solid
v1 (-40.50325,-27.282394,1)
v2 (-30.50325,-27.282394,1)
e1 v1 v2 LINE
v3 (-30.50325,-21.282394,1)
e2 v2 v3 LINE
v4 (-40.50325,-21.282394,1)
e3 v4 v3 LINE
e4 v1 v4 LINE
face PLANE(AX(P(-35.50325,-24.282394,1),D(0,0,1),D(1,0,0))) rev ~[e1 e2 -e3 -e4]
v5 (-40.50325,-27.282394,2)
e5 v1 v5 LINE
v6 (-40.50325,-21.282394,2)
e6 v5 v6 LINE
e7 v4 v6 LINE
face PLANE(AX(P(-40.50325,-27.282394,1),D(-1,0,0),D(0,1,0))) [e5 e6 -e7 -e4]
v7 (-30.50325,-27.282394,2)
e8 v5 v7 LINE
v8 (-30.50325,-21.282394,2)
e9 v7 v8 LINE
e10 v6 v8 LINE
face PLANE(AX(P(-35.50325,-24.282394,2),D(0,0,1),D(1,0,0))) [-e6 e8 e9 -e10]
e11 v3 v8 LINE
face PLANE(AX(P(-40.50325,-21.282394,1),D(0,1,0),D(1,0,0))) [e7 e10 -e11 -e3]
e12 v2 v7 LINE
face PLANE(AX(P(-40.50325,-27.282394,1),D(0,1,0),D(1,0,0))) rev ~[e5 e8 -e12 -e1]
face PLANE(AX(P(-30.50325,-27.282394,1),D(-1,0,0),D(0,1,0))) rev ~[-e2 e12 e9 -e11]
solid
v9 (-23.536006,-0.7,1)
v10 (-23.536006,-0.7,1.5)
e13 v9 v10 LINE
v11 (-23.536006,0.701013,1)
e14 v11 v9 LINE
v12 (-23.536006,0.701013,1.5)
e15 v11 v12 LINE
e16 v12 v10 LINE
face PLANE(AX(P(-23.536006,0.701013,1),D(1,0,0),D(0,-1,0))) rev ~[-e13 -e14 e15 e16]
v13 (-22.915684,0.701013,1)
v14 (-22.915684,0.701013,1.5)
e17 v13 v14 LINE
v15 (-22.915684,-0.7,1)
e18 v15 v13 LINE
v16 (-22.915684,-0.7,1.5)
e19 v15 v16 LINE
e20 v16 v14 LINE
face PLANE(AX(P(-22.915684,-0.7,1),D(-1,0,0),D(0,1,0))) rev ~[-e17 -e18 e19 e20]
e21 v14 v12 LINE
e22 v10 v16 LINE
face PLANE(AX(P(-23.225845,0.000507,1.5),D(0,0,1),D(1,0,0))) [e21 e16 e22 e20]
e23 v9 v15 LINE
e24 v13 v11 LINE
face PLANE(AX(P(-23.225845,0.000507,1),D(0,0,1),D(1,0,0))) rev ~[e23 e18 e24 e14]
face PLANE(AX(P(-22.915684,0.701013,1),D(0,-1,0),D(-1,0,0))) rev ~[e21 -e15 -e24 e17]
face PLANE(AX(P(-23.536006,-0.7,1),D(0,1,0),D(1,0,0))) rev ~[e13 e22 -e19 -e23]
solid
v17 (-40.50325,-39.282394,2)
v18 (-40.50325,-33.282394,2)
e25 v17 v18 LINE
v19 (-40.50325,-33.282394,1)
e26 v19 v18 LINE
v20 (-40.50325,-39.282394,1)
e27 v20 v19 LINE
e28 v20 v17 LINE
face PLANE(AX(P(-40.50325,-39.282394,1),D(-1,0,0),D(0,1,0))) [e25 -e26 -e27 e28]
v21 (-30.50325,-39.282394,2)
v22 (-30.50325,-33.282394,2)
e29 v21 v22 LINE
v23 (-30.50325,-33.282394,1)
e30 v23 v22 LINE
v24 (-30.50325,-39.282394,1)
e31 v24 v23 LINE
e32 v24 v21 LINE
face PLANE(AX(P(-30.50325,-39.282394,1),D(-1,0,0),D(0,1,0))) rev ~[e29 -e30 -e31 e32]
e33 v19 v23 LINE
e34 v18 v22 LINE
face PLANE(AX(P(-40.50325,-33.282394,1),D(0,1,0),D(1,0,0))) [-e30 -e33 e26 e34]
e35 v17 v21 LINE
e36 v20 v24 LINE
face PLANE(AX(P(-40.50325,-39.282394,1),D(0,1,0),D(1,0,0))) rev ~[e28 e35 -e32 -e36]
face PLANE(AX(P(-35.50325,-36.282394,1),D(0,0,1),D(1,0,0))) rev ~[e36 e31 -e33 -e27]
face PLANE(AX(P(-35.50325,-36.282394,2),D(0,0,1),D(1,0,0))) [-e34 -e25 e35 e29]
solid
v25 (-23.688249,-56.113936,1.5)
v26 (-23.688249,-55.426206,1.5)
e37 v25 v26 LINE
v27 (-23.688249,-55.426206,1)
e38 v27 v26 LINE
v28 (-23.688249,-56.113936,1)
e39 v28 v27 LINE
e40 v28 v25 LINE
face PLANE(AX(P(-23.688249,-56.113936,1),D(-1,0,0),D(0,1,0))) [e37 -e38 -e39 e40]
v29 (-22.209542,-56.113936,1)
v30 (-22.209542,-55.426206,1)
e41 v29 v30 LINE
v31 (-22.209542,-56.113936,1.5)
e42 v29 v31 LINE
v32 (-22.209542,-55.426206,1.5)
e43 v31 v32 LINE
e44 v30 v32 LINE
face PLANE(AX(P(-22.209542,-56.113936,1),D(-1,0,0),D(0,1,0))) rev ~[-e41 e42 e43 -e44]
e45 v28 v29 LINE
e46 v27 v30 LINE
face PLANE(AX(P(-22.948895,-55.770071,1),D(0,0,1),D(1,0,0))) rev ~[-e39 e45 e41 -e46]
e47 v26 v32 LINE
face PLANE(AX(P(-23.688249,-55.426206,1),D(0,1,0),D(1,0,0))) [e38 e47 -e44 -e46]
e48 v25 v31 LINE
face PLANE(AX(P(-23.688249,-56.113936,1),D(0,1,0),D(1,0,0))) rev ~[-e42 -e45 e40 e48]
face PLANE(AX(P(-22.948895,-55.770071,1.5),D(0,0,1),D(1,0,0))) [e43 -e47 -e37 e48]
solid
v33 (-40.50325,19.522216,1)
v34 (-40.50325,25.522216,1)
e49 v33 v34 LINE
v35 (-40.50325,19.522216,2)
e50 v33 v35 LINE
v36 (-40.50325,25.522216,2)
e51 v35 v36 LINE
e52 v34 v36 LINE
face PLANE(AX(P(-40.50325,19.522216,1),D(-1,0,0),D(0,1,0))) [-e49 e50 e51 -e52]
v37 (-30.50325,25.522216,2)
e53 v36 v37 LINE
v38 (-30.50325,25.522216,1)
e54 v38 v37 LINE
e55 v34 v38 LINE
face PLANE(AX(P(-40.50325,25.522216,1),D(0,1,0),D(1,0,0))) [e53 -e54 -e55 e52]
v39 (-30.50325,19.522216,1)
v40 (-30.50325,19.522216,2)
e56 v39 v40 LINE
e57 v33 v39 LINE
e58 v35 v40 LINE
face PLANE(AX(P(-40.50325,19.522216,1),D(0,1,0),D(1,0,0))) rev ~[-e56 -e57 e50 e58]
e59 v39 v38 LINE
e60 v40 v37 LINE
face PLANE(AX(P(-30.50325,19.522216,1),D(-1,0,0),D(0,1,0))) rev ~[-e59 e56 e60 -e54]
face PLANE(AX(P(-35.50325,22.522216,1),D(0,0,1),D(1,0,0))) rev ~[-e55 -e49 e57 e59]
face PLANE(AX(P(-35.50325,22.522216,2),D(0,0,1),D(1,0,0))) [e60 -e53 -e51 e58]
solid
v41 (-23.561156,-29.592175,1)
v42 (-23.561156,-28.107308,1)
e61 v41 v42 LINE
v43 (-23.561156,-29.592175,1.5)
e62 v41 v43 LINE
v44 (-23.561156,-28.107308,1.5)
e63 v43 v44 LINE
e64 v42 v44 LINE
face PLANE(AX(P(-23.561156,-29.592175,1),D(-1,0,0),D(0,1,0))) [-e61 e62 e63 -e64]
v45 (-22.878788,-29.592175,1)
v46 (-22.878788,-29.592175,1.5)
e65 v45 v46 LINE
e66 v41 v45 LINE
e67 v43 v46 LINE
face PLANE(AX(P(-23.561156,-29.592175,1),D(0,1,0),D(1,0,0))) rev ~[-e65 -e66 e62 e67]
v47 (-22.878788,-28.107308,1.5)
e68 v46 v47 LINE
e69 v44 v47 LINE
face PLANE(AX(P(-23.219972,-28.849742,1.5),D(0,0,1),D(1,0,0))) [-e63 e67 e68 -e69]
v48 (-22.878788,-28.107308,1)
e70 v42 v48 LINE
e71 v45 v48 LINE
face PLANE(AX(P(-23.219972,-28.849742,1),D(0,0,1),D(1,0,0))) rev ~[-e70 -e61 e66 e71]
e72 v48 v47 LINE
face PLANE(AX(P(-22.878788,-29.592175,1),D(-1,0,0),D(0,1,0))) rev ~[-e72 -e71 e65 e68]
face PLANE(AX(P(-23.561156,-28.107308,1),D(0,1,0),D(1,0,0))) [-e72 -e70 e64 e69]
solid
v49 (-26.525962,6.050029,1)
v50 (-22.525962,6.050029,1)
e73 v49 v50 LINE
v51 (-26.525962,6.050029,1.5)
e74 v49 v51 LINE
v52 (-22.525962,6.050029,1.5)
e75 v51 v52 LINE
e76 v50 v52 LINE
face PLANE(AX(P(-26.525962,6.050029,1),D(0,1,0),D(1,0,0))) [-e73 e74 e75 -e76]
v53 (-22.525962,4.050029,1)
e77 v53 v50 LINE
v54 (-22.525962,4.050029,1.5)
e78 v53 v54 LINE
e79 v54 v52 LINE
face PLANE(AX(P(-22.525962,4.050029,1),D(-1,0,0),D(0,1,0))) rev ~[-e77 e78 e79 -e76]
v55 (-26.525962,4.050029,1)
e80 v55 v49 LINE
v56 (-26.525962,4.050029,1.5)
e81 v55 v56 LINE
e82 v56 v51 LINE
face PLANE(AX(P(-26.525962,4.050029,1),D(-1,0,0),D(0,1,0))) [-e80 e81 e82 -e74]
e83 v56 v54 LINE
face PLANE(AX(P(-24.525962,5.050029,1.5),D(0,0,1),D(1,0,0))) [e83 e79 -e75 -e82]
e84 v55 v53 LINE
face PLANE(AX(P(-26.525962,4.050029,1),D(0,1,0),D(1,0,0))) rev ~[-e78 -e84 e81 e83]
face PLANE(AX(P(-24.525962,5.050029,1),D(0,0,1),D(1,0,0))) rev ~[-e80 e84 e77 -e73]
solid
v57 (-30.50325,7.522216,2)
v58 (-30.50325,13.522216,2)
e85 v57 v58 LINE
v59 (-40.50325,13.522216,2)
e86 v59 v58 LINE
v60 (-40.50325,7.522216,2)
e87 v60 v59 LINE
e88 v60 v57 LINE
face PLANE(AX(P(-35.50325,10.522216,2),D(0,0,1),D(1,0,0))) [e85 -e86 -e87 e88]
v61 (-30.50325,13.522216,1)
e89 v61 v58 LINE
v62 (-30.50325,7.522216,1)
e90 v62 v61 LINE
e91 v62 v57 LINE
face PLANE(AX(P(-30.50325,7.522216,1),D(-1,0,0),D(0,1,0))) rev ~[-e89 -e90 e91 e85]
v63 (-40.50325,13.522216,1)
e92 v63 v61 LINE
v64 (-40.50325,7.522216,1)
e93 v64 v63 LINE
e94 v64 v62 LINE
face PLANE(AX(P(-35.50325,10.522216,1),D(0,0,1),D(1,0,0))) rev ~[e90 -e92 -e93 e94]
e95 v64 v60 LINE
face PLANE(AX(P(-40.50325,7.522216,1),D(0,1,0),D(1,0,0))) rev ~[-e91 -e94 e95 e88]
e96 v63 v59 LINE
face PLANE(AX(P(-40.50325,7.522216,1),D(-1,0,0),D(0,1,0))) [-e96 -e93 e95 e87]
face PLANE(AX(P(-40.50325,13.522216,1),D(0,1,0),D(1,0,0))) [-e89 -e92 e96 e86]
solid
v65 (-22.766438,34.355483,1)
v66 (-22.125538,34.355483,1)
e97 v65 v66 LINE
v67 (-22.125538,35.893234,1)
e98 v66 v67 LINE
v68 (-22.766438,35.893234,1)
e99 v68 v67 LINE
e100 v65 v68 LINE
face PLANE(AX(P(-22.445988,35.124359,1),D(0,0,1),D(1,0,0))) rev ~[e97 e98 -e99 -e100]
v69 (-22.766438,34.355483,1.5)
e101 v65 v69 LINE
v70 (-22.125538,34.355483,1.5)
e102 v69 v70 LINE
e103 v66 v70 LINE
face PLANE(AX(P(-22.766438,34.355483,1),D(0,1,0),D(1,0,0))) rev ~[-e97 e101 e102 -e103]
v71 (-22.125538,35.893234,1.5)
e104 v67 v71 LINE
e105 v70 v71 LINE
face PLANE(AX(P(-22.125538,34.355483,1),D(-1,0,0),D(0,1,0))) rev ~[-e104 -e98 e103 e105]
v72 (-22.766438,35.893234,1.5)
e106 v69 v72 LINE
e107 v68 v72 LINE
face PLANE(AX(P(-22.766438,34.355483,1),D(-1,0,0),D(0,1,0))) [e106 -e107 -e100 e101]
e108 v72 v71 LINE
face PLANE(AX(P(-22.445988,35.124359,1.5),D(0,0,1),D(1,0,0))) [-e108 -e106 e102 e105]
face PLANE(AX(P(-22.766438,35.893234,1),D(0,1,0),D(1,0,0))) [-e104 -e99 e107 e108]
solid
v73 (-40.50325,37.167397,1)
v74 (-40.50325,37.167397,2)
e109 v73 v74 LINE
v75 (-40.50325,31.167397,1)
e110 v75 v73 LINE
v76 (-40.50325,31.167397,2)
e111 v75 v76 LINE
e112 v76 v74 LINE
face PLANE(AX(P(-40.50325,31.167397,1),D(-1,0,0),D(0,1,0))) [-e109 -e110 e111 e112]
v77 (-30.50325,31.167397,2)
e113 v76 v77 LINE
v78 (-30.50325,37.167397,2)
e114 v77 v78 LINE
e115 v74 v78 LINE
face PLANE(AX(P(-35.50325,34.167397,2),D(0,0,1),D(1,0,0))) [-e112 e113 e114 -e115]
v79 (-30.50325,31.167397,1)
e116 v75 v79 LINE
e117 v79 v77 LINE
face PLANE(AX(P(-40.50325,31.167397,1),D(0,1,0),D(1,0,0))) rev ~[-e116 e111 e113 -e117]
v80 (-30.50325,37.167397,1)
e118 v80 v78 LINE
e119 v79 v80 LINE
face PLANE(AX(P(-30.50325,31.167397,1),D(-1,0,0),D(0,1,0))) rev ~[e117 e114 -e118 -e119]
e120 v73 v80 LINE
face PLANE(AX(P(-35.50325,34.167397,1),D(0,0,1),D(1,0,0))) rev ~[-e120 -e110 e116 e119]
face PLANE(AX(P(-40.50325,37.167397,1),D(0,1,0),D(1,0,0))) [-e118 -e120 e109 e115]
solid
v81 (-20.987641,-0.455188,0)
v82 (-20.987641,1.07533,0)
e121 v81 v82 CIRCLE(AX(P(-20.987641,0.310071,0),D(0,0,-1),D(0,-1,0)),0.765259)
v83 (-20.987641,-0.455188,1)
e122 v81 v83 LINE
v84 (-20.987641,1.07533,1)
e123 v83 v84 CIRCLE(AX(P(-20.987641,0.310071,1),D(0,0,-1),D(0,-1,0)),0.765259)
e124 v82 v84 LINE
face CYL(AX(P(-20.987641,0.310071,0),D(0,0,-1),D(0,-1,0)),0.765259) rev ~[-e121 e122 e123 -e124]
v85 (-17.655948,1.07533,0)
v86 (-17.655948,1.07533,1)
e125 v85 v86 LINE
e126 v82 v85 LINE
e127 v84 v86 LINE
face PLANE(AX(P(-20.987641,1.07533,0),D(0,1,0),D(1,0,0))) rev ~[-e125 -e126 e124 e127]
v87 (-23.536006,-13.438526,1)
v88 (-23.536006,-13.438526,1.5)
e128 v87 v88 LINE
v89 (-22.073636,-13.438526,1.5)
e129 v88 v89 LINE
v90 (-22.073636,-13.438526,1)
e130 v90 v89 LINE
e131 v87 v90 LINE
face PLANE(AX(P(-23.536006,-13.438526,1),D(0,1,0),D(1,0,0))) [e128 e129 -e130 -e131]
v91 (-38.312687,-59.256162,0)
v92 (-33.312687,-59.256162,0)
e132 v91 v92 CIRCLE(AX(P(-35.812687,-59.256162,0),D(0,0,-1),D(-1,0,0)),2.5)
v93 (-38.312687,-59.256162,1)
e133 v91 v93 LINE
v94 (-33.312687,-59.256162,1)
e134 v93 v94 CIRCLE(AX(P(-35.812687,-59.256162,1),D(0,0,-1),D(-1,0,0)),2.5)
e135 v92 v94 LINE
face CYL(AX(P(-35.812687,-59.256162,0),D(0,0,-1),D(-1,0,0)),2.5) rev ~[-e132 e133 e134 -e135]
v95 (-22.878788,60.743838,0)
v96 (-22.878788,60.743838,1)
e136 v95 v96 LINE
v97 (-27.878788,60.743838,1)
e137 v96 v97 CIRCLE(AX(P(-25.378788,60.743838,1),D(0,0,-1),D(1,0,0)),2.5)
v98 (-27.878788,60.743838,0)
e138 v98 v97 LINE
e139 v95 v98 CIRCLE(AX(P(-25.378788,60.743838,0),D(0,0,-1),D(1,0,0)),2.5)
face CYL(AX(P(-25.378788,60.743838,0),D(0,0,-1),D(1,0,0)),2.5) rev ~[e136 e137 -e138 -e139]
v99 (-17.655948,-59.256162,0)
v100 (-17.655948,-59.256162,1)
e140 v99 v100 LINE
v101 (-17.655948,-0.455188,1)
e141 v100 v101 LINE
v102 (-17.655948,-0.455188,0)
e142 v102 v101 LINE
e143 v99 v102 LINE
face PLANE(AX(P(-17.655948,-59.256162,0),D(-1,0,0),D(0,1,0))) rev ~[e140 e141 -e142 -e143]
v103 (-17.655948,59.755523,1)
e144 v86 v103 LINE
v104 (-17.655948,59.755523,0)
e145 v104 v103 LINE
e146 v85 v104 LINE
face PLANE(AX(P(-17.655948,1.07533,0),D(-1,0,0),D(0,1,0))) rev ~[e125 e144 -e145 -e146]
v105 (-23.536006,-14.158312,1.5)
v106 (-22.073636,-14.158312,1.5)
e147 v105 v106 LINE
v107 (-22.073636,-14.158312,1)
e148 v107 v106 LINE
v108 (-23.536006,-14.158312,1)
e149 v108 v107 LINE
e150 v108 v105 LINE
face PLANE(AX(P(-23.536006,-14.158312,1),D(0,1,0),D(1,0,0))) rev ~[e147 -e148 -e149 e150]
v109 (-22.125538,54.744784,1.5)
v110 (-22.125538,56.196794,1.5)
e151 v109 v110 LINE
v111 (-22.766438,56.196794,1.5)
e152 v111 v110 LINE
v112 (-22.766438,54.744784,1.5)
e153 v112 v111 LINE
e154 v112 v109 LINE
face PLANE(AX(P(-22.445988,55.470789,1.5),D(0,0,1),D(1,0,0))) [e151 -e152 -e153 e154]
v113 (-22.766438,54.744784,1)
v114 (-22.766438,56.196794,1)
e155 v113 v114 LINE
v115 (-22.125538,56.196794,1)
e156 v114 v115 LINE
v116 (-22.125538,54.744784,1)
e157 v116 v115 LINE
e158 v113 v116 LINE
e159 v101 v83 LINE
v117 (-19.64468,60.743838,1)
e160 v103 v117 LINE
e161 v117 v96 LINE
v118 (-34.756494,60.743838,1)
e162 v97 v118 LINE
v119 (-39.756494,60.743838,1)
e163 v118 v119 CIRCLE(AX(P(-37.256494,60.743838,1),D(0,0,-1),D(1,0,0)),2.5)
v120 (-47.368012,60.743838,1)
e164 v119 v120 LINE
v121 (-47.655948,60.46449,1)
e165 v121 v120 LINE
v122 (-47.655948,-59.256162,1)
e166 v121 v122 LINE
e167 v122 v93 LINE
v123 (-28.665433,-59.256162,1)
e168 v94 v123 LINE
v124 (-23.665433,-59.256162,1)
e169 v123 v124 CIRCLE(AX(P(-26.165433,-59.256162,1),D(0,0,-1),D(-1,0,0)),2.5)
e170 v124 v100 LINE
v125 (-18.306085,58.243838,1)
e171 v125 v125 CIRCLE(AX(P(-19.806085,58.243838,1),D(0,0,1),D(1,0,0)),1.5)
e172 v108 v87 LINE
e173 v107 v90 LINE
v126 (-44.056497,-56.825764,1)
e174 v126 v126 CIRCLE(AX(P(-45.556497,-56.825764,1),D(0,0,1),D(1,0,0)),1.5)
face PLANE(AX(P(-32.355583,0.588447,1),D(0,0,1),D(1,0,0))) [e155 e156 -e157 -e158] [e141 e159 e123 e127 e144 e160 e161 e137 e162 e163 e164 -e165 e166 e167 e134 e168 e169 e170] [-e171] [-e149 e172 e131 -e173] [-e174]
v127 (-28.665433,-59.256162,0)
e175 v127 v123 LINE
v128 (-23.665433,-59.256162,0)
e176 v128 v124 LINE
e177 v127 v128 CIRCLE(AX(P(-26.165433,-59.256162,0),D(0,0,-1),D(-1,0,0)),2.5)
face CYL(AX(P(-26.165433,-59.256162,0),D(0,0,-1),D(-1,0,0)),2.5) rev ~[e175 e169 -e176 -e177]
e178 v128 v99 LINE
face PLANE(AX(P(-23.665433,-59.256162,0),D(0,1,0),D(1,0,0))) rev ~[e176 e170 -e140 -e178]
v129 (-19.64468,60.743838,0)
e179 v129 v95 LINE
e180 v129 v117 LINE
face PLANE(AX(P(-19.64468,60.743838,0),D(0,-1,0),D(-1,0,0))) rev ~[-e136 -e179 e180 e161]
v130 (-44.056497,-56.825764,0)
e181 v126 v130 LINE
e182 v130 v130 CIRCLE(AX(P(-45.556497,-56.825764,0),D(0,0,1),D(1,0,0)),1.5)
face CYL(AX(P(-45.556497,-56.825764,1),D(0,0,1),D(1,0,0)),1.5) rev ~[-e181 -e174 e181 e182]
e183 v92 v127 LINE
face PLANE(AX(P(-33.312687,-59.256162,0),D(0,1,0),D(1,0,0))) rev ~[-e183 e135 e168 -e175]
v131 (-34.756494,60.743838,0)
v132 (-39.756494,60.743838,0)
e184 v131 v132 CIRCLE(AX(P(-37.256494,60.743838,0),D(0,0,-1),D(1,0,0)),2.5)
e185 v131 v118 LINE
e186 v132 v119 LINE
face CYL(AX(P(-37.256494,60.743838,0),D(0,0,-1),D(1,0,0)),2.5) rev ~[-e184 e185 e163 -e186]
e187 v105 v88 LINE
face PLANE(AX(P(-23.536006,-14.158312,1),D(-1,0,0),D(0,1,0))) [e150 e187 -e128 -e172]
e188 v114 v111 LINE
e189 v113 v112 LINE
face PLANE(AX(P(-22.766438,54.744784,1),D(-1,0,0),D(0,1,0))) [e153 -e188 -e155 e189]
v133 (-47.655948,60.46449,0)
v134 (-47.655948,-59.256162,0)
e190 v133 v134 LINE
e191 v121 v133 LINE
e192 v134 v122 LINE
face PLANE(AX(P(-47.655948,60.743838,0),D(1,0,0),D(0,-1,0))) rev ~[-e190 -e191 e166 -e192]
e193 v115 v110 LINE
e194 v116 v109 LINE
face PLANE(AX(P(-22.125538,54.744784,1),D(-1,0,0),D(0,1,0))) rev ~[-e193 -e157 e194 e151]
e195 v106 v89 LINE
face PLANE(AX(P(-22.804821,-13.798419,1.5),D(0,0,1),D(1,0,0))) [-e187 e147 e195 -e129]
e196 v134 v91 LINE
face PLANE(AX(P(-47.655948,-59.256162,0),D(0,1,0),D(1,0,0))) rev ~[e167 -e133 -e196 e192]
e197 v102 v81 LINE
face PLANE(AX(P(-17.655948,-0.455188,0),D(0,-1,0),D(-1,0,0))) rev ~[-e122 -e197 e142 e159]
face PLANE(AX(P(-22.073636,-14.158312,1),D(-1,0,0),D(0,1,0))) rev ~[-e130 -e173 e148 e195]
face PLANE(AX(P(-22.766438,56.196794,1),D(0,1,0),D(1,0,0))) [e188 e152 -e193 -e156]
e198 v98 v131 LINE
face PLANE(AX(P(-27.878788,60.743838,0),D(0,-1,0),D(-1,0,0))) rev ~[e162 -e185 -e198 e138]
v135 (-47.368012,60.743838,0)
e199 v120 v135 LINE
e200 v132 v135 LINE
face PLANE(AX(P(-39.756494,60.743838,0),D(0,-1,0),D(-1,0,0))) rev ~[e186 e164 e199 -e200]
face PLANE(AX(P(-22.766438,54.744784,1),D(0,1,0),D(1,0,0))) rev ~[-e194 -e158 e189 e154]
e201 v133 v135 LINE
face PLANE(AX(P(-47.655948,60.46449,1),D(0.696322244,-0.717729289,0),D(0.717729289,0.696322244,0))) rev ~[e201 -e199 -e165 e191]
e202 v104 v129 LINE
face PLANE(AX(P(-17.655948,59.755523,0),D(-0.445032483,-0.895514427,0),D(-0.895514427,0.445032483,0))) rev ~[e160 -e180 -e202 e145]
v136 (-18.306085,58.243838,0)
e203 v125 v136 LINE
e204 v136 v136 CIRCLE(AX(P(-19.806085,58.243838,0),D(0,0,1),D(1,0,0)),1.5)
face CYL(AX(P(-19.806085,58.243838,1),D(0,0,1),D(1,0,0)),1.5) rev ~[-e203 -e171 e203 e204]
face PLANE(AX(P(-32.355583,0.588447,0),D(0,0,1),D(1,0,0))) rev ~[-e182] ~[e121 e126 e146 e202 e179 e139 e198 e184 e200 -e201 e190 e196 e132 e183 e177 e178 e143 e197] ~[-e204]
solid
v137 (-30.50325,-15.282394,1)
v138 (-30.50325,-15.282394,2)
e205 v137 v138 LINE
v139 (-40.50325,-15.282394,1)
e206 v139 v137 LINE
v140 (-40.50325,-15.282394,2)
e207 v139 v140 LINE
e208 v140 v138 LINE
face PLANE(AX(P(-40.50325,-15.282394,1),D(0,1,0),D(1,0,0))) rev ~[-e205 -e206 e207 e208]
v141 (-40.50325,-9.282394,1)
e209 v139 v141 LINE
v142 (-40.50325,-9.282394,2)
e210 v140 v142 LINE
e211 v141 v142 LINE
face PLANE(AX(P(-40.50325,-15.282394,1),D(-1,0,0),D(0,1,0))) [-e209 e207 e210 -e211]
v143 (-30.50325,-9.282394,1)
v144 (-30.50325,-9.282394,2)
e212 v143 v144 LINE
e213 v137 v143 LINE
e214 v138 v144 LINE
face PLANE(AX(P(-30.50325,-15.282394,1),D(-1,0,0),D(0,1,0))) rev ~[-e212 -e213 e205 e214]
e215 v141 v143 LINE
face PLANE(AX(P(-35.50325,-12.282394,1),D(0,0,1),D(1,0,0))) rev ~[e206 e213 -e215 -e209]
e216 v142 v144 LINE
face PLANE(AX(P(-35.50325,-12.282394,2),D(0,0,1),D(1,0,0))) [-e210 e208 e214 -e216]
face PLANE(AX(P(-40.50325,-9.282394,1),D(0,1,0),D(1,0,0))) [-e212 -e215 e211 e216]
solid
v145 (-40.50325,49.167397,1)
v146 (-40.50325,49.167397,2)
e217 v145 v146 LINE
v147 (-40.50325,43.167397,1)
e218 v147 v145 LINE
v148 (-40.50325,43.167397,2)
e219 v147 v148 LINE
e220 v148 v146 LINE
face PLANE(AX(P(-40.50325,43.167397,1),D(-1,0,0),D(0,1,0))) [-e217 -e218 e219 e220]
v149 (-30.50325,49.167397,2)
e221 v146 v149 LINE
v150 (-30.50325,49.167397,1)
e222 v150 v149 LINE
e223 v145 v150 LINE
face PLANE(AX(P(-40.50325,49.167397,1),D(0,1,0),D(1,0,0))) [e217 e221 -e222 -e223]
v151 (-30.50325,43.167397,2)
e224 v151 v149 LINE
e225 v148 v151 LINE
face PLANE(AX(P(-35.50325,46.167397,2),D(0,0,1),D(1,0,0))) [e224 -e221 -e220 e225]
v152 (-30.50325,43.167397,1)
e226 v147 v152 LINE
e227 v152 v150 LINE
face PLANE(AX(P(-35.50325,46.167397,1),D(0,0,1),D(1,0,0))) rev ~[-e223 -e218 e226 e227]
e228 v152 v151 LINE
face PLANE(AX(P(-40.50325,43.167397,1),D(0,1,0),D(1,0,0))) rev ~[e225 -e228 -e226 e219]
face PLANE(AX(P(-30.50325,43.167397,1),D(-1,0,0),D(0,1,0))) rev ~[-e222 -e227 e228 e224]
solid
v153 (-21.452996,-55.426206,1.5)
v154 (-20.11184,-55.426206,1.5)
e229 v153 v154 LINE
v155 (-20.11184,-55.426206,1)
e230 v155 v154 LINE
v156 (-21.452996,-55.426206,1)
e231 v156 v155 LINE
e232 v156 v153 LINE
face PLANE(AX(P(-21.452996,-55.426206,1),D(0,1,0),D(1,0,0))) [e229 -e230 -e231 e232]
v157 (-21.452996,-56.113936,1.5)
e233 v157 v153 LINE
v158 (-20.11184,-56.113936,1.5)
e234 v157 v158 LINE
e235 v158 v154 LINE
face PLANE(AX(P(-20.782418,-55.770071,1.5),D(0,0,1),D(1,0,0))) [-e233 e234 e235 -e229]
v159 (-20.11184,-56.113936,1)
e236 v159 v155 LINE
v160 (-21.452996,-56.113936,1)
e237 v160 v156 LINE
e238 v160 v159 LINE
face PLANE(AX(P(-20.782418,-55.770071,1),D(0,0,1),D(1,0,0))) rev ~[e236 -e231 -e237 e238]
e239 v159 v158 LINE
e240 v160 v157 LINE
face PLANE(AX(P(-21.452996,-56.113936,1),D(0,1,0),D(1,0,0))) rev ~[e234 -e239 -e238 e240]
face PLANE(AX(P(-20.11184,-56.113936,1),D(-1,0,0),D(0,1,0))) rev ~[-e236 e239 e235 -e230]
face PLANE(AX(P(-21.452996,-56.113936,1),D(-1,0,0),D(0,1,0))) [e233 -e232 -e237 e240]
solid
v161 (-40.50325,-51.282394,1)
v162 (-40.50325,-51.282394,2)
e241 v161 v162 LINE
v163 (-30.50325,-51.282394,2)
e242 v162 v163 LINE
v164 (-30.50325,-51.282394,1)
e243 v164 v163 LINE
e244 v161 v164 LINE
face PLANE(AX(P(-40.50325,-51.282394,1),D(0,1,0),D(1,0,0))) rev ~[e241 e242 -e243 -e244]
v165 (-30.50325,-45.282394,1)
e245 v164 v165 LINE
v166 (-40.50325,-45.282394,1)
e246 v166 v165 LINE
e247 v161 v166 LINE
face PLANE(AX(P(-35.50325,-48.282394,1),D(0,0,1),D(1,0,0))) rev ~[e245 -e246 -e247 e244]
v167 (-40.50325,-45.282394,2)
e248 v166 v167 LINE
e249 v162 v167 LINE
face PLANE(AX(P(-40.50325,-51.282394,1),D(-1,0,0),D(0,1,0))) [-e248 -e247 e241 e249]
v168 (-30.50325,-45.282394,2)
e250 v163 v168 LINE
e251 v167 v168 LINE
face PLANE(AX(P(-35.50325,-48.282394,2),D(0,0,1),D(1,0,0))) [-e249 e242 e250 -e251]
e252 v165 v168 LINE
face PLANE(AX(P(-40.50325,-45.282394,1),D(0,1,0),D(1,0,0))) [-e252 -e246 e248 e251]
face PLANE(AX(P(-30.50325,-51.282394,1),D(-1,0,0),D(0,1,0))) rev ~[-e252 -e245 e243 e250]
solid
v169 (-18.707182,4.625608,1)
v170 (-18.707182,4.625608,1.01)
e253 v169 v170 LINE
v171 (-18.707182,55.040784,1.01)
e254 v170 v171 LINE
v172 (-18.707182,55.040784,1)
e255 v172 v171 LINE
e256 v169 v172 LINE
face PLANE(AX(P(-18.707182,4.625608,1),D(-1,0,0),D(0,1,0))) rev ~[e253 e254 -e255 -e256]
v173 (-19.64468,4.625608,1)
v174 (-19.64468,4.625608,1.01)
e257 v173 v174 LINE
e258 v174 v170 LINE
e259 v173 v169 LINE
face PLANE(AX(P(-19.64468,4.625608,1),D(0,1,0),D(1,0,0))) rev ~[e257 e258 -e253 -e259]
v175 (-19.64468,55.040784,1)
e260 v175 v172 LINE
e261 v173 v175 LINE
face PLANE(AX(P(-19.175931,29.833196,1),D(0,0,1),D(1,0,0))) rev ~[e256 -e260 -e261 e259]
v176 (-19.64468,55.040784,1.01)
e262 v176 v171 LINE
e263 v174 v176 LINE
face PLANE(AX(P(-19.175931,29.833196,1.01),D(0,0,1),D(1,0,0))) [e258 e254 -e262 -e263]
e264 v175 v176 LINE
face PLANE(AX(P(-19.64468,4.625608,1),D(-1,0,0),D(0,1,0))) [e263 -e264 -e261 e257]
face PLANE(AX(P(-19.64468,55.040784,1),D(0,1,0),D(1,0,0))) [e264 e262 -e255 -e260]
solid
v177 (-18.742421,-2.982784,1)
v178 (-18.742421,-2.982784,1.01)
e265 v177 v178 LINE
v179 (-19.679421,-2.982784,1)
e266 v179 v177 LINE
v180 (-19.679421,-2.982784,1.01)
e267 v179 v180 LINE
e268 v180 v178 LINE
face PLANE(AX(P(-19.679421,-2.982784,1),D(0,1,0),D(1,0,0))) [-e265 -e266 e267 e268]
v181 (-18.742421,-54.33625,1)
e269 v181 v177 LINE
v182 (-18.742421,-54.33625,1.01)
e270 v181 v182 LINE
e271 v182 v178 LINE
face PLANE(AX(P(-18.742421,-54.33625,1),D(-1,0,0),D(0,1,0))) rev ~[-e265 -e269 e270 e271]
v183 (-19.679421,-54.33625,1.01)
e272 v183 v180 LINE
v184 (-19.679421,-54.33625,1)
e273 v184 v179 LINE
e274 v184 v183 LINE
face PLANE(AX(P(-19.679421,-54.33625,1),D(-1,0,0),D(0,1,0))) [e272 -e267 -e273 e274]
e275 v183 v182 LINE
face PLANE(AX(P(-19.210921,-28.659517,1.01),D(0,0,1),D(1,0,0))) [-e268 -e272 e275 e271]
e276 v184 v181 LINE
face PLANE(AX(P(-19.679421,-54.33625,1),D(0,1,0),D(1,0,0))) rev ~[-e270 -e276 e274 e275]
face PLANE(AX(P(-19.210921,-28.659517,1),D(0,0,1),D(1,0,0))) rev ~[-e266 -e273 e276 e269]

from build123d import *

# Parameters (mm, degrees)
F1_DEPTH  = 1
F2_W      = 10
F2_H      = 6
F3_DEPTH  = 1
F5_DEPTH  = 25
F6_R      = 1.5
F7_DEPTH  = 25
F8_W      = 4
F8_H      = 2
F9_DEPTH  = 0.5
F10_W     = 10
F10_H     = 6
F11_DEPTH = 1
F12_W     = 0.640901
F12_H     = 1.45201
F12_W_2   = 1.46237
F12_H_2   = 0.719787
F13_DEPTH = 0.5
F14_W     = 0.640901
F14_H     = 1.537751
F14_W_2   = 0.682369
F14_H_2   = 1.484867
F15_DEPTH = 0.5
F16_W     = 1.478707
F16_H     = 0.68773
F16_W_2   = 1.341155
F17_DEPTH = 0.5
F18_W     = 0.937498
F18_H     = 50.415176
F19_DEPTH = 0.01
F20_W     = 0.937
F20_H     = 51.353466
F21_DEPTH = 0.01


with BuildPart() as f1:
    # F0 (on Top) → F1 (new body)
    with BuildSketch(Plane.XY):
        with BuildLine():
            Line((-39.756494, 60.743838), (-47.655948, 60.743838))
            Line((-47.655948, 60.743838), (-47.655948, -59.256162))
            Line((-47.655948, -59.256162), (-38.312687, -59.256162))
            ThreePointArc((-38.312687, -59.256162), (-35.812687, -56.756162), (-33.312687, -59.256162))
            Line((-33.312687, -59.256162), (-28.665433, -59.256162))
            ThreePointArc((-28.665433, -59.256162), (-26.165433, -56.756162), (-23.665433, -59.256162))
            Line((-23.665433, -59.256162), (-17.655948, -59.256162))
            Line((-17.655948, -59.256162), (-17.655948, -0.455188))
            Line((-17.655948, -0.455188), (-20.987641, -0.455188))
            ThreePointArc((-20.987641, -0.455188), (-21.7529, 0.310071), (-20.987641, 1.07533))
            Line((-20.987641, 1.07533), (-17.655948, 1.07533))
            Line((-17.655948, 1.07533), (-17.655948, 59.755523))
            Line((-17.655948, 59.755523), (-19.64468, 60.743838))
            Line((-19.64468, 60.743838), (-22.878788, 60.743838))
            ThreePointArc((-22.878788, 60.743838), (-25.378788, 58.243838), (-27.878788, 60.743838))
            Line((-27.878788, 60.743838), (-34.756494, 60.743838))
            ThreePointArc((-34.756494, 60.743838), (-37.256494, 58.243838), (-39.756494, 60.743838))
        make_face()
    extrude(amount=F1_DEPTH)

    # F4 (on face) → F5 (cut)
    with BuildSketch(Plane.XY.offset(1)):
        Polygon((-47.655948, 60.46449), (-47.368012, 60.743838), (-47.655948, 60.743838), align=None)
    extrude(amount=-F5_DEPTH, mode=Mode.SUBTRACT)

    # F6 (on face) → F7 (cut)
    with BuildSketch(Plane.XY.offset(1)):
        with Locations((-19.806085, 58.243838)):
            Circle(F6_R)
        with Locations((-45.556497, -56.825764)):
            Circle(F6_R)
    extrude(amount=-F7_DEPTH, mode=Mode.SUBTRACT)

    # F12 (on face) → F13 (join)
    with BuildSketch(Plane.XY.offset(1)):
        with Locations((-22.445988, 55.470789)):
            Rectangle(F12_W, F12_H)
        with Locations((-22.804821, -13.798419)):
            Rectangle(F12_W_2, F12_H_2)
    extrude(amount=F13_DEPTH)


with BuildPart() as f3:
    # F2 (on face) → F3 (new body)
    with BuildSketch(Plane.XY.offset(1)):
        with Locations((-35.50325, 10.522216)):
            Rectangle(F2_W, F2_H)
        with Locations((-35.50325, 22.522216)):
            Rectangle(F2_W, F2_H)
        with Locations((-35.50325, 34.167397)):
            Rectangle(F2_W, F2_H)
        with Locations((-35.50325, 46.167397)):
            Rectangle(F2_W, F2_H)
    extrude(amount=F3_DEPTH)


with BuildPart() as f9:
    # F8 (on face) → F9 (new body)
    with BuildSketch(Plane.XY.offset(1)):
        Polygon((-22.915684, -0.7), (-22.915684, 0), (-22.915684, 0.701013), (-23.536006, 0.701013), (-23.536006, -0.7), align=None)
        with Locations((-24.525962, 5.050029)):
            Rectangle(F8_W, F8_H)
    extrude(amount=F9_DEPTH)


with BuildPart() as f11:
    # F10 (on face) → F11 (new body)
    with BuildSketch(Plane.XY.offset(1)):
        with Locations((-35.50325, -48.282394)):
            Rectangle(F10_W, F10_H)
        with Locations((-35.50325, -36.282394)):
            Rectangle(F10_W, F10_H)
        with Locations((-35.50325, -24.282394)):
            Rectangle(F10_W, F10_H)
        with Locations((-35.50325, -12.282394)):
            Rectangle(F10_W, F10_H)
    extrude(amount=F11_DEPTH)


with BuildPart() as f15:
    # F14 (on face) → F15 (new body)
    with BuildSketch(Plane.XY.offset(1)):
        with Locations((-22.445988, 35.124359)):
            Rectangle(F14_W, F14_H)
        with Locations((-23.219972, -28.849742)):
            Rectangle(F14_W_2, F14_H_2)
    extrude(amount=F15_DEPTH)


with BuildPart() as f17:
    # F16 (on face) → F17 (new body)
    with BuildSketch(Plane.XY.offset(1)):
        with Locations((-22.948895, -55.770071)):
            Rectangle(F16_W, F16_H)
        with Locations((-20.782418, -55.770071)):
            Rectangle(F16_W_2, F16_H)
    extrude(amount=F17_DEPTH)


with BuildPart() as f19:
    # F18 (on face) → F19 (new body)
    with BuildSketch(Plane.XY.offset(1)):
        with Locations((-19.175931, 29.833196)):
            Rectangle(F18_W, F18_H)
    extrude(amount=F19_DEPTH)


with BuildPart() as f21:
    # F20 (on face) → F21 (new body)
    with BuildSketch(Plane.XY.offset(1)):
        with Locations((-19.210921, -28.659517)):
            Rectangle(F20_W, F20_H)
    extrude(amount=F21_DEPTH)


solid = Compound([f1.part, f3.part, f9.part, f11.part, f15.part, f17.part, f19.part, f21.part])
